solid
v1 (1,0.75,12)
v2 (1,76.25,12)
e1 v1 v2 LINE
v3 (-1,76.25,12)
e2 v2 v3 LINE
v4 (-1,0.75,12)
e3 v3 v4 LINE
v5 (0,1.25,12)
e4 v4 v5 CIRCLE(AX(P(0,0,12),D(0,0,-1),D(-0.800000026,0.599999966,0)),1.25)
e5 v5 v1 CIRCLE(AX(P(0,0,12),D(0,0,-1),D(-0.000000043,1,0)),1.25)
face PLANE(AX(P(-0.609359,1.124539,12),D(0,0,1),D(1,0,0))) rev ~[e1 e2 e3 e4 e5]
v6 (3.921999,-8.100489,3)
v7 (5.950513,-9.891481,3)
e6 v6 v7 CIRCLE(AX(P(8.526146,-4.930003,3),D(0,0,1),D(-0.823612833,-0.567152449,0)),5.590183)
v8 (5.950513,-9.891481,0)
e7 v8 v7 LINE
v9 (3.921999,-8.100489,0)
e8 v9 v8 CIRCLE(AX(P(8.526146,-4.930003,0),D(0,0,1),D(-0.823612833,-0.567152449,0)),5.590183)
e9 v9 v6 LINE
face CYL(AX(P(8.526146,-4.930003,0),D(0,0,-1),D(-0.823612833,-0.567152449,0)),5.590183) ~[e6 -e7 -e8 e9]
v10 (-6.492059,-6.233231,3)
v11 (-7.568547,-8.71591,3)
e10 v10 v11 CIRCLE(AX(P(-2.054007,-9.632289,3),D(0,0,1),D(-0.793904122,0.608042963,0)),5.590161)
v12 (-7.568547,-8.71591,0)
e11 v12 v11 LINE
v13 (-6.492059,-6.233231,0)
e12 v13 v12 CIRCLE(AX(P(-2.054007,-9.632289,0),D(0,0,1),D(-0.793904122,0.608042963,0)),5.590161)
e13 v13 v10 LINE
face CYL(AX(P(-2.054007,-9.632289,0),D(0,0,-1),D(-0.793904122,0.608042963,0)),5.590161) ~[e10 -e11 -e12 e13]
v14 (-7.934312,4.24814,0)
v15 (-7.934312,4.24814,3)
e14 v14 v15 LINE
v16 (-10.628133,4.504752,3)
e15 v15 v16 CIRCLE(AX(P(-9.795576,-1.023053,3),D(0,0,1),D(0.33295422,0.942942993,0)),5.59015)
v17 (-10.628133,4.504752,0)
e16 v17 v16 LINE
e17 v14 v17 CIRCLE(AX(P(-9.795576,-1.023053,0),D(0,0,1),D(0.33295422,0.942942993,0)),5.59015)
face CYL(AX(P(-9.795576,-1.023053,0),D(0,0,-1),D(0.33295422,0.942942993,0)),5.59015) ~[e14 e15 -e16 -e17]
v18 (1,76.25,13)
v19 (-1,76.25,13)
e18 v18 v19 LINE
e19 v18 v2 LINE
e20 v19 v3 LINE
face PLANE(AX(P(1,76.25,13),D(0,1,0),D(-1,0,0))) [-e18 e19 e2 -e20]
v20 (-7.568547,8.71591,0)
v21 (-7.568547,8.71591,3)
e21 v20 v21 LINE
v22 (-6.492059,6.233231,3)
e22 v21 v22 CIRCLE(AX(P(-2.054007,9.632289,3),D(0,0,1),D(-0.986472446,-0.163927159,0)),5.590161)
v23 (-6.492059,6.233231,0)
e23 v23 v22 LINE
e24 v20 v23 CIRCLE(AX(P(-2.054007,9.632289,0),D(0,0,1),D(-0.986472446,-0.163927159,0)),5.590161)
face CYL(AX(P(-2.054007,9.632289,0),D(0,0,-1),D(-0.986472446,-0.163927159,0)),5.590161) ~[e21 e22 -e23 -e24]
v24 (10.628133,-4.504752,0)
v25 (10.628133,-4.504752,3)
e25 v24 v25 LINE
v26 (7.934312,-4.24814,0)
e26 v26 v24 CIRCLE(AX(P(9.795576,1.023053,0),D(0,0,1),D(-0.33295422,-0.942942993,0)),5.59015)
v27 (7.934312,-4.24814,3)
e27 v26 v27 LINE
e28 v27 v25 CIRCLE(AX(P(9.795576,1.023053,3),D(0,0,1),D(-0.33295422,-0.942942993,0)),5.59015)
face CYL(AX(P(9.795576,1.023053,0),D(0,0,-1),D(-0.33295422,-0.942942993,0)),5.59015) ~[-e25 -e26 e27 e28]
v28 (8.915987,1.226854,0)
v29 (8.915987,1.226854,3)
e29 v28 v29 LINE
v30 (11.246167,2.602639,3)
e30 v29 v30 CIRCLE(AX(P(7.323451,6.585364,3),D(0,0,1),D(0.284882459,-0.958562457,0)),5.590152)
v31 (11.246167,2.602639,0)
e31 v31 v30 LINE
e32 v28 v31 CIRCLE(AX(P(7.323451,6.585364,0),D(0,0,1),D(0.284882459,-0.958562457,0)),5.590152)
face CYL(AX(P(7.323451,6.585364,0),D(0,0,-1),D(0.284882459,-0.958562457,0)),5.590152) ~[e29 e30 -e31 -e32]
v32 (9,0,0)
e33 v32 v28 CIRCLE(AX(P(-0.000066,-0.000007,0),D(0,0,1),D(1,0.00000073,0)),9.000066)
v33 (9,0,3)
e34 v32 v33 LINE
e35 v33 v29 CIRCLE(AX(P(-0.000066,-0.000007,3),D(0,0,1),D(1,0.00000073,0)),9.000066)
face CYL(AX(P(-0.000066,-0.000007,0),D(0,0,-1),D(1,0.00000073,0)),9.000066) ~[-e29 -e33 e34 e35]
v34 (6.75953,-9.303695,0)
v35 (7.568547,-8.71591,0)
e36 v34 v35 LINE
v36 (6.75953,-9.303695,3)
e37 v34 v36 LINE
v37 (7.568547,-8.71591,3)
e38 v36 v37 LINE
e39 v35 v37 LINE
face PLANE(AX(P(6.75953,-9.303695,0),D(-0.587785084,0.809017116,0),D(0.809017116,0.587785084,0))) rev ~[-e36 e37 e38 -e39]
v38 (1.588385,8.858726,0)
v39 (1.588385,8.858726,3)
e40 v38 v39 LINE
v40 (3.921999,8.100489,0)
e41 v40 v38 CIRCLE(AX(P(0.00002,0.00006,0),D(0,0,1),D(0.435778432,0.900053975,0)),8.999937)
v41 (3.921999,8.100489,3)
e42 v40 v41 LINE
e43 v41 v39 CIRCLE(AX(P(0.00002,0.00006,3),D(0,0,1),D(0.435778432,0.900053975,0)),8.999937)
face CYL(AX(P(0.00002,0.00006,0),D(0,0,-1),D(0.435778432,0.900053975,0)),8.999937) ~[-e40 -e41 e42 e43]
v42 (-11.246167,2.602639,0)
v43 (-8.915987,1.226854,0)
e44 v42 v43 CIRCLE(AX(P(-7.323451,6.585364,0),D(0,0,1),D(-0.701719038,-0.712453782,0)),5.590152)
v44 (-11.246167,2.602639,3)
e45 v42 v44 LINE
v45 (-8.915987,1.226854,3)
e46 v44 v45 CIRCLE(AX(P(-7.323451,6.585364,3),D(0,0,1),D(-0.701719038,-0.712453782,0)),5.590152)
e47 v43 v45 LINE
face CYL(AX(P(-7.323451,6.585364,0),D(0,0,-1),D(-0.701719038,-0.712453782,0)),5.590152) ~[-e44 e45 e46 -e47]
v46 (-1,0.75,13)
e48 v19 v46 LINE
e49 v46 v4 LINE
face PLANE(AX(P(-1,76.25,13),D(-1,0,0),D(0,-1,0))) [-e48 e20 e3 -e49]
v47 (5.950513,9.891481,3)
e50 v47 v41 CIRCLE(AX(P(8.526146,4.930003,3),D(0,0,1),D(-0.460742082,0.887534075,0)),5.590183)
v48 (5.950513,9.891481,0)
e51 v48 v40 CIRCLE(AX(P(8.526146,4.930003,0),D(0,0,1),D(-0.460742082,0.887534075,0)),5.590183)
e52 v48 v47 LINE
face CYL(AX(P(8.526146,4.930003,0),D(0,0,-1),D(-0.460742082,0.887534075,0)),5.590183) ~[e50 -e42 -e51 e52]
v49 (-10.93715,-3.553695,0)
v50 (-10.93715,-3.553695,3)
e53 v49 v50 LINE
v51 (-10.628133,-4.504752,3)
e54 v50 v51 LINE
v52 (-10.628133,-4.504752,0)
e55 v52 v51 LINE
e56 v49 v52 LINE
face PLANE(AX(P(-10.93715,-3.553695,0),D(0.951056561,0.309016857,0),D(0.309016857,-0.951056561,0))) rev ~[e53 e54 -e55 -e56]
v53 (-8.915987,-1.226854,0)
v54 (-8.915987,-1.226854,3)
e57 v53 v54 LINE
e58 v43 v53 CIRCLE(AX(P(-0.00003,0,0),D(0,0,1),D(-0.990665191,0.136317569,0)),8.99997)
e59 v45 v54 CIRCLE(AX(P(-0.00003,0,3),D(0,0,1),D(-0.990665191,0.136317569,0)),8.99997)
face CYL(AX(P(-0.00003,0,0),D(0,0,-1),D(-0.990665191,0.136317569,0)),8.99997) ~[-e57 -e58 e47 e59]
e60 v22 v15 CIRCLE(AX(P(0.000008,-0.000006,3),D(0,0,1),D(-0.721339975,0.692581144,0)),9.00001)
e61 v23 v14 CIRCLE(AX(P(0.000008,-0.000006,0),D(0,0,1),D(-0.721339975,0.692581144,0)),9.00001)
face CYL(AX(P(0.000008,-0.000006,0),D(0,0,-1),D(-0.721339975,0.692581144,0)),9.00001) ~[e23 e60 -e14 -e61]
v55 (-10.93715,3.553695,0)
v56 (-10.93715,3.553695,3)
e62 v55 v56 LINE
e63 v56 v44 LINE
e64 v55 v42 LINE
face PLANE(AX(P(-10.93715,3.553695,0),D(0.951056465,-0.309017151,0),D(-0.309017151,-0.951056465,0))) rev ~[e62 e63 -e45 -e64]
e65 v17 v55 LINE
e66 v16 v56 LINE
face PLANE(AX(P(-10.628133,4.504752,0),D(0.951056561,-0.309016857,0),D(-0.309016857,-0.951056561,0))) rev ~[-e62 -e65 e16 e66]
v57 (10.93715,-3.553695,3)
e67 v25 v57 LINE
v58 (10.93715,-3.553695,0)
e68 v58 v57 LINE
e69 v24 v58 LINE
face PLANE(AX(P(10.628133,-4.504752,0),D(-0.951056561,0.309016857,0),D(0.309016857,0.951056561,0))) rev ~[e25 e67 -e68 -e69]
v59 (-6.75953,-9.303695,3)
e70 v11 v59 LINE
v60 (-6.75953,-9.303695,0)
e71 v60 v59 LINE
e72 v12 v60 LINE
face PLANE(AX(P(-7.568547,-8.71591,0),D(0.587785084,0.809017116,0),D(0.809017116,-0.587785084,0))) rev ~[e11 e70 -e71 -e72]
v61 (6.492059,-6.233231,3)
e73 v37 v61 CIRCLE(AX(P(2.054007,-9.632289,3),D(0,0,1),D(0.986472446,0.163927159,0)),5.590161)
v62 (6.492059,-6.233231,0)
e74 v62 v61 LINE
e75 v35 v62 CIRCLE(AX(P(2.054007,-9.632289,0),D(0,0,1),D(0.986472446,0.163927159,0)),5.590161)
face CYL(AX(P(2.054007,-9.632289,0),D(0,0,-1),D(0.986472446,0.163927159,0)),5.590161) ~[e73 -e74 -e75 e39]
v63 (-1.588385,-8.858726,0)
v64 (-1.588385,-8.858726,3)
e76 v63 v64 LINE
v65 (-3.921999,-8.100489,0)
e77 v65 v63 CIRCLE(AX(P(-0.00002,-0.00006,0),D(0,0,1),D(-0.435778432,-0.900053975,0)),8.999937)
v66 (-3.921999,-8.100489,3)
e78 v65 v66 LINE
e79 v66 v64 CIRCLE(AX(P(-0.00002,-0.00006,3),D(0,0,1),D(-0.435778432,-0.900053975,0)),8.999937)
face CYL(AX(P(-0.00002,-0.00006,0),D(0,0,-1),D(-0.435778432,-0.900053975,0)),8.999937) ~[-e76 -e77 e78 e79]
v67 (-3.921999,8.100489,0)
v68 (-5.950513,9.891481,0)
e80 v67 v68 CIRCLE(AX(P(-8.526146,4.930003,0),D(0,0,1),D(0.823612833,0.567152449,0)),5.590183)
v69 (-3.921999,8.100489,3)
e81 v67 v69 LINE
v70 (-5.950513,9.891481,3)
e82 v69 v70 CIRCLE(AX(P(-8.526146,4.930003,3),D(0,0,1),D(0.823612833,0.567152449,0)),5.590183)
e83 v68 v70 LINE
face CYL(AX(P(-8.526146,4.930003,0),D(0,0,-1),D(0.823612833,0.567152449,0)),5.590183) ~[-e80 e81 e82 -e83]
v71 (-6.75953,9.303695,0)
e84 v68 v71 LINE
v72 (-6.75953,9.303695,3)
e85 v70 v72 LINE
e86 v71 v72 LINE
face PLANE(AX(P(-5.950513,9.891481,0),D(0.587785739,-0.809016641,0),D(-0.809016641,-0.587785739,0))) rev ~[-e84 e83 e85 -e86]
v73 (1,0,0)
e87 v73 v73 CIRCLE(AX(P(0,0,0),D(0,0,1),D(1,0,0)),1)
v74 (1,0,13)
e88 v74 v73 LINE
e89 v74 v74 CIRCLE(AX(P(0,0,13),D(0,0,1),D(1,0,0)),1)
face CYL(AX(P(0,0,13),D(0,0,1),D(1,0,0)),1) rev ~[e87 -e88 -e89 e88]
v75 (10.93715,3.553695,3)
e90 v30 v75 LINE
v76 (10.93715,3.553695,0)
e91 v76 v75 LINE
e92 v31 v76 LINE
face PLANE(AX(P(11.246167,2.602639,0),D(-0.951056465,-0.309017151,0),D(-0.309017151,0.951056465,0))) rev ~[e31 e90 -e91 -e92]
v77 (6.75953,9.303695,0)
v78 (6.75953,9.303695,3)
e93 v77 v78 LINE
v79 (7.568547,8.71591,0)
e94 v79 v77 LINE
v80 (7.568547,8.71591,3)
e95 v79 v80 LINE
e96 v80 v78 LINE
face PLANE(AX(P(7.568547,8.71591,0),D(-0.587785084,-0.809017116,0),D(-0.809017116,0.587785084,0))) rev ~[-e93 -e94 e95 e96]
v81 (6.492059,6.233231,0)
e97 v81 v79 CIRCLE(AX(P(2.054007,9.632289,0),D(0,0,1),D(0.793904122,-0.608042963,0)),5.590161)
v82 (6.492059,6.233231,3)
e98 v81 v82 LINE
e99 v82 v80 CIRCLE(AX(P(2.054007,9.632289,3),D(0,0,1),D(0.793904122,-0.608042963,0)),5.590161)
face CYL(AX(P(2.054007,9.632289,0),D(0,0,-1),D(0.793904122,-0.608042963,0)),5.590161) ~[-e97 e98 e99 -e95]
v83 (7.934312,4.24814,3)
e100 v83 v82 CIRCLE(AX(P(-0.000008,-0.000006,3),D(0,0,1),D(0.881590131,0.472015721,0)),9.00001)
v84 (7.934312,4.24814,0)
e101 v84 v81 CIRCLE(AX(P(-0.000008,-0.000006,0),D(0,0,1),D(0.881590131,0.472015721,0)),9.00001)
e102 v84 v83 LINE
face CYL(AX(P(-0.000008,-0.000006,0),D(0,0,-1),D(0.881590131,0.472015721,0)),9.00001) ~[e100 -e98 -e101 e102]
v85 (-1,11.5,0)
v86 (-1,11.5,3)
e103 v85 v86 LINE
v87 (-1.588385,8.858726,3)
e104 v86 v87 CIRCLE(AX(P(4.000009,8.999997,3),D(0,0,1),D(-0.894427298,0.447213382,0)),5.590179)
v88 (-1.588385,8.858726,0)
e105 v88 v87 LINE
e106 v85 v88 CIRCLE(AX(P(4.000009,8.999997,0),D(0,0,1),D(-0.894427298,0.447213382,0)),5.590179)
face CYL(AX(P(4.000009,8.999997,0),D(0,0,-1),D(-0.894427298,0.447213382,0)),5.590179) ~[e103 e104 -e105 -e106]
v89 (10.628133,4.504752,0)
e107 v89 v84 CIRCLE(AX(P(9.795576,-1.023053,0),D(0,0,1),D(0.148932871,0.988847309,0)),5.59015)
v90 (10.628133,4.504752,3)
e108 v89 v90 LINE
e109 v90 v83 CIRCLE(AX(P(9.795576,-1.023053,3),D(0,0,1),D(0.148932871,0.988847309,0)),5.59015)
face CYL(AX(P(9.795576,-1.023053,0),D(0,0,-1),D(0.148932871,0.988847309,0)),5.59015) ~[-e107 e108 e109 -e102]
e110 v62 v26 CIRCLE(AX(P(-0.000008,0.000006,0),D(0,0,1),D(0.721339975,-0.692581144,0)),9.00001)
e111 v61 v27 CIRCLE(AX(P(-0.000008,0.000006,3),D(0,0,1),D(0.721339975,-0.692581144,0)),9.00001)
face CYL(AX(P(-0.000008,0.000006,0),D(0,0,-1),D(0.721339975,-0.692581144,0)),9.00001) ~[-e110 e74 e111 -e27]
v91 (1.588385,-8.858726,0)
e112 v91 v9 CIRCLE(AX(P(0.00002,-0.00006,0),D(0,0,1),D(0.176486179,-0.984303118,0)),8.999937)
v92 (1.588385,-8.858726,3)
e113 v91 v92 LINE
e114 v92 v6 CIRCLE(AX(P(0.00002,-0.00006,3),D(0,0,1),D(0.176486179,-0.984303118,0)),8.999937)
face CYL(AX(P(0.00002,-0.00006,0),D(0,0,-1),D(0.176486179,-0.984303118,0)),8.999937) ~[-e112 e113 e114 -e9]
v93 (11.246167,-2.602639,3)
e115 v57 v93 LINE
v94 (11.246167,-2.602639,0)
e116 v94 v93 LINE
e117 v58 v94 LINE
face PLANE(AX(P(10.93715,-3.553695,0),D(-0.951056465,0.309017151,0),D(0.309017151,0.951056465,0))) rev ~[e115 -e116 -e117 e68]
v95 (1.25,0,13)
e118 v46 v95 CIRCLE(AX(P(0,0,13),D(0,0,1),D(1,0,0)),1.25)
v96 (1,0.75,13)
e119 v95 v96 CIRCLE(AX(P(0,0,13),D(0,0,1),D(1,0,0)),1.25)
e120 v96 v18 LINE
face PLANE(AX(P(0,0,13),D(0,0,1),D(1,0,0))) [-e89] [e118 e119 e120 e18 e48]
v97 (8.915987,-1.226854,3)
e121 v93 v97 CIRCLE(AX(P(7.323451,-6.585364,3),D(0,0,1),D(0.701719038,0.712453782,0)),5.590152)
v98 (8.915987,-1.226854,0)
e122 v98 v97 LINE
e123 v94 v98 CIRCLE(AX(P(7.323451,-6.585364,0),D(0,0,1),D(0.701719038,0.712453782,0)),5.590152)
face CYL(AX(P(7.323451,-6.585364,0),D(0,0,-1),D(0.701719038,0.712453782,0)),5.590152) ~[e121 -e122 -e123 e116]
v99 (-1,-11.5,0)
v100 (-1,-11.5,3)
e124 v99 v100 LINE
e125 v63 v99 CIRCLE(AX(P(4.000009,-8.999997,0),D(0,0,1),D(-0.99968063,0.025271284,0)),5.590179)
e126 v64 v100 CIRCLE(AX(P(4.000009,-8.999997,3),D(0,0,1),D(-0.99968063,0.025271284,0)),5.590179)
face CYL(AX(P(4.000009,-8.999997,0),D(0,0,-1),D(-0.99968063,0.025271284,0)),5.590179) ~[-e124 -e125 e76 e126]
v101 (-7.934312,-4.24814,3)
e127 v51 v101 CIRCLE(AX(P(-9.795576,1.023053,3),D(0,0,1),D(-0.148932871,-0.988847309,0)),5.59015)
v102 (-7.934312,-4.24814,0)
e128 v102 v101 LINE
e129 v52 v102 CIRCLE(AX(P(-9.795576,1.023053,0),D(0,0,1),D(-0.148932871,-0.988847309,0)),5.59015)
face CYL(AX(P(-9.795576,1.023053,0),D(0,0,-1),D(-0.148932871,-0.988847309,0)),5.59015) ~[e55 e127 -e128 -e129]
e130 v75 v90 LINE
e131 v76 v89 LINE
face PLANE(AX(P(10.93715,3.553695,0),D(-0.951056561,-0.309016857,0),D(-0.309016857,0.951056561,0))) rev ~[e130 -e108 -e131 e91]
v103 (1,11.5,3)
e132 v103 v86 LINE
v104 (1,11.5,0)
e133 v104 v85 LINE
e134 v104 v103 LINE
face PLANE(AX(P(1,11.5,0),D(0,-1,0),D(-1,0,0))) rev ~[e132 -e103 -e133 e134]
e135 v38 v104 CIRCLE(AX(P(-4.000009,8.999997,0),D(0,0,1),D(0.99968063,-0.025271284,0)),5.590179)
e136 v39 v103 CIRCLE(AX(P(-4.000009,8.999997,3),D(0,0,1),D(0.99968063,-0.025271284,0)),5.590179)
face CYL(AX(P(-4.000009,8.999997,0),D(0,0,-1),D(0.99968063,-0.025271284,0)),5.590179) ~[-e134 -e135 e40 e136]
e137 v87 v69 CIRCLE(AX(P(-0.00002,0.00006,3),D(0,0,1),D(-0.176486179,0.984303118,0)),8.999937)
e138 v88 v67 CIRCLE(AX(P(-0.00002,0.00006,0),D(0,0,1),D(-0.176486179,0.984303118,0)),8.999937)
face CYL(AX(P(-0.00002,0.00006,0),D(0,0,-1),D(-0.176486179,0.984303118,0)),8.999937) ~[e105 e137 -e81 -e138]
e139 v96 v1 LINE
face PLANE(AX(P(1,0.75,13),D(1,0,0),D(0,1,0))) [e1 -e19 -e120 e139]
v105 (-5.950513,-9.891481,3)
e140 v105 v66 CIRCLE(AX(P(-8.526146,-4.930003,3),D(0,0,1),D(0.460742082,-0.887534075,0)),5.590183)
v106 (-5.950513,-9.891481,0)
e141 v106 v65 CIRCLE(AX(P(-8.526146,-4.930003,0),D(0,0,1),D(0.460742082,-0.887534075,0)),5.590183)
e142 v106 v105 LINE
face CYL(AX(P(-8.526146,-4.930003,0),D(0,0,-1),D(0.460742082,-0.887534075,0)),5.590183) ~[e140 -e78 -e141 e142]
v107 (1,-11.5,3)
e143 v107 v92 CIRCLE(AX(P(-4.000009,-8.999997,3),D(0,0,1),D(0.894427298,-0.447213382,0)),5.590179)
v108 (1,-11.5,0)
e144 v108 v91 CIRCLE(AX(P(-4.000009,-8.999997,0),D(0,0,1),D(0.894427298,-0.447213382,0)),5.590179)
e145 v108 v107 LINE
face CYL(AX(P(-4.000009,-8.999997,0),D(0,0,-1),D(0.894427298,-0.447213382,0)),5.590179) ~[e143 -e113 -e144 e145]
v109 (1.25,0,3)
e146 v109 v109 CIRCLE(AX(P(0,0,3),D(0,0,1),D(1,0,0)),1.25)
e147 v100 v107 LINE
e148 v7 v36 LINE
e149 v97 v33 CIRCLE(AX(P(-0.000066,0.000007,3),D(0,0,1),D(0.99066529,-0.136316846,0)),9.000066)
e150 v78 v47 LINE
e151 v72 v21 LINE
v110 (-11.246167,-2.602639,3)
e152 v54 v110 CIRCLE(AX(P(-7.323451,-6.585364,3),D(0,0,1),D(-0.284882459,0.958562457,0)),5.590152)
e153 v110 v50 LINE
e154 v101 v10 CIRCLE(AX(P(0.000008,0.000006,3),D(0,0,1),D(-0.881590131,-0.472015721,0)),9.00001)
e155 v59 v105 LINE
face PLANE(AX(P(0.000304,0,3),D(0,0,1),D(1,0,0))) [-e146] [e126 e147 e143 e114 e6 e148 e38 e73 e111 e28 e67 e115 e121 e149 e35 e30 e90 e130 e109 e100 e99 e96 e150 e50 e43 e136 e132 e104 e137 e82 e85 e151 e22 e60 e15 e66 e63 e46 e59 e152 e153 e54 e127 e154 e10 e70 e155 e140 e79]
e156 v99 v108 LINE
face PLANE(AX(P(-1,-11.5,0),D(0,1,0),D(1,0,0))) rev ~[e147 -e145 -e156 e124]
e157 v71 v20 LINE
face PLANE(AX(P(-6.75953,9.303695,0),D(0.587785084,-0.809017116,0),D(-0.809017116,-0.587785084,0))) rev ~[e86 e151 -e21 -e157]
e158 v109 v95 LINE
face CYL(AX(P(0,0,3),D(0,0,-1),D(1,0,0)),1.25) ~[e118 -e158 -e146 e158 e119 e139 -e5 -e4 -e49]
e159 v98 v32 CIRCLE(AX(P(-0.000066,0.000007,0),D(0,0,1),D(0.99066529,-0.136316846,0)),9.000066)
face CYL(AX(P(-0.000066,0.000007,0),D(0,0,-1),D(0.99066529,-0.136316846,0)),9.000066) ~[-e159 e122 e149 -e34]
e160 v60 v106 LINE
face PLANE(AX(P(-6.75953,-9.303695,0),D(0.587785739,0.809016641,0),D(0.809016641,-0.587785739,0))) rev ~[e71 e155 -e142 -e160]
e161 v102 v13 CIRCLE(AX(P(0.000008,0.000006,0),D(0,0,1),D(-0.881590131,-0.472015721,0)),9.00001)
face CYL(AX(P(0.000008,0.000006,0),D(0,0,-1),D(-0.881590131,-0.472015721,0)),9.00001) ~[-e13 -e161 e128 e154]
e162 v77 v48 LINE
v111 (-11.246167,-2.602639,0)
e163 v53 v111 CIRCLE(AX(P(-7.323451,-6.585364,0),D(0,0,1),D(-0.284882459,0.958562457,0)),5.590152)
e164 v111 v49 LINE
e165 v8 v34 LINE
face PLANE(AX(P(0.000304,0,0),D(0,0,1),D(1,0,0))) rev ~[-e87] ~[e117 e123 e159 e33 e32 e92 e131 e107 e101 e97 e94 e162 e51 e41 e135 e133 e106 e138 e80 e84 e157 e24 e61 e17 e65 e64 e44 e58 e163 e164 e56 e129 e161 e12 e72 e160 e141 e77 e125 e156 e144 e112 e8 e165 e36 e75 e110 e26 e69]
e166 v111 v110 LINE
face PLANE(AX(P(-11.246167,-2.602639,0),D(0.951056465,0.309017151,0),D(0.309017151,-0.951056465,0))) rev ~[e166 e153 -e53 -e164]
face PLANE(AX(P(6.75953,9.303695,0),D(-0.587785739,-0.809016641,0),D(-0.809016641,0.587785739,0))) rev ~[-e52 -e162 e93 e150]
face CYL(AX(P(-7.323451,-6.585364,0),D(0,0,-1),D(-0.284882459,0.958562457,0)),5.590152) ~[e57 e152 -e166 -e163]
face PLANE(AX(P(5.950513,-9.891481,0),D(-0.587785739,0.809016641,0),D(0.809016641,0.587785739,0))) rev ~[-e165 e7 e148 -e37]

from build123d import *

# Parameters (mm, degrees)
F1_DEPTH = 3
F2_R     = 1.25
F3_DEPTH = 10
F4_R     = 1
F5_DEPTH = 25
F6_W     = 1
F6_H     = 75
F7_DEPTH = 1


with BuildPart() as f1:
    # F0 (on Top) → F1 (new body)
    with BuildSketch(Plane.XY):
        with BuildLine():
            ThreePointArc((8.915987, -1.226854), (8.978972, -0.614863), (9, 0))
            ThreePointArc((9, 0), (8.978972, 0.614863), (8.915987, 1.226854))
            ThreePointArc((8.915987, 1.226854), (8.559509, 2.781153), (7.934312, 4.24814))
            ThreePointArc((7.934312, 4.24814), (7.281153, 5.290067), (6.492059, 6.233231))
            ThreePointArc((6.492059, 6.233231), (5.290067, 7.281153), (3.921999, 8.100489))
            ThreePointArc((3.921999, 8.100489), (2.781153, 8.559509), (1.588385, 8.858726))
            ThreePointArc((1.588385, 8.858726), (0, 9), (-1.588385, 8.858726))
            ThreePointArc((-1.588385, 8.858726), (-2.781153, 8.559509), (-3.921999, 8.100489))
            ThreePointArc((-3.921999, 8.100489), (-5.290067, 7.281153), (-6.492059, 6.233231))
            ThreePointArc((-6.492059, 6.233231), (-7.281153, 5.290067), (-7.934312, 4.24814))
            ThreePointArc((-7.934312, 4.24814), (-8.559509, 2.781153), (-8.915987, 1.226854))
            ThreePointArc((-8.915987, 1.226854), (-9, 0), (-8.915987, -1.226854))
            ThreePointArc((-8.915987, -1.226854), (-8.559509, -2.781153), (-7.934312, -4.24814))
            ThreePointArc((-7.934312, -4.24814), (-7.281153, -5.290067), (-6.492059, -6.233231))
            ThreePointArc((-6.492059, -6.233231), (-5.290067, -7.281153), (-3.921999, -8.100489))
            ThreePointArc((-3.921999, -8.100489), (-2.781153, -8.559509), (-1.588385, -8.858726))
            ThreePointArc((-1.588385, -8.858726), (0, -9), (1.588385, -8.858726))
            ThreePointArc((1.588385, -8.858726), (2.781153, -8.559509), (3.921999, -8.100489))
            ThreePointArc((3.921999, -8.100489), (5.290067, -7.281153), (6.492059, -6.233231))
            ThreePointArc((6.492059, -6.233231), (7.281153, -5.290067), (7.934312, -4.24814))
            ThreePointArc((7.934312, -4.24814), (8.559509, -2.781153), (8.915987, -1.226854))
        make_face()
        with BuildLine():
            ThreePointArc((7.934312, 4.24814), (8.559509, 2.781153), (8.915987, 1.226854))
            ThreePointArc((8.915987, 1.226854), (10.16558, 1.771623), (11.246167, 2.602639))
            Line((11.246167, 2.602639), (10.93715, 3.553695))
            Line((10.93715, 3.553695), (10.628133, 4.504752))
            ThreePointArc((10.628133, 4.504752), (9.265461, 4.541905), (7.934312, 4.24814))
        make_face()
        with BuildLine():
            ThreePointArc((11.246167, -2.602639), (10.16558, -1.771623), (8.915987, -1.226854))
            ThreePointArc((8.915987, -1.226854), (8.559509, -2.781153), (7.934312, -4.24814))
            ThreePointArc((7.934312, -4.24814), (9.265461, -4.541905), (10.628133, -4.504752))
            Line((10.628133, -4.504752), (10.93715, -3.553695))
            Line((10.93715, -3.553695), (11.246167, -2.602639))
        make_face()
        with BuildLine():
            ThreePointArc((3.921999, 8.100489), (5.290067, 7.281153), (6.492059, 6.233231))
            ThreePointArc((6.492059, 6.233231), (7.182793, 7.408451), (7.568547, 8.71591))
            Line((7.568547, 8.71591), (6.75953, 9.303695))
            Line((6.75953, 9.303695), (5.950513, 9.891481))
            ThreePointArc((5.950513, 9.891481), (4.826251, 9.120579), (3.921999, 8.100489))
        make_face()
        with BuildLine():
            ThreePointArc((7.568547, -8.71591), (7.182793, -7.408451), (6.492059, -6.233231))
            ThreePointArc((6.492059, -6.233231), (5.290067, -7.281153), (3.921999, -8.100489))
            ThreePointArc((3.921999, -8.100489), (4.826251, -9.120579), (5.950513, -9.891481))
            Line((5.950513, -9.891481), (6.75953, -9.303695))
            Line((6.75953, -9.303695), (7.568547, -8.71591))
        make_face()
        with BuildLine():
            ThreePointArc((-1.588385, 8.858726), (0, 9), (1.588385, 8.858726))
            ThreePointArc((1.588385, 8.858726), (1.456423, 10.215503), (1, 11.5))
            Line((1, 11.5), (0, 11.5))
            Line((0, 11.5), (-1, 11.5))
            ThreePointArc((-1, 11.5), (-1.456423, 10.215503), (-1.588385, 8.858726))
        make_face()
        with BuildLine():
            ThreePointArc((1, -11.5), (1.456423, -10.215503), (1.588385, -8.858726))
            ThreePointArc((1.588385, -8.858726), (0, -9), (-1.588385, -8.858726))
            ThreePointArc((-1.588385, -8.858726), (-1.456423, -10.215503), (-1, -11.5))
            Line((-1, -11.5), (0, -11.5))
            Line((0, -11.5), (1, -11.5))
        make_face()
        with BuildLine():
            ThreePointArc((-6.492059, 6.233231), (-5.290067, 7.281153), (-3.921999, 8.100489))
            ThreePointArc((-3.921999, 8.100489), (-4.826251, 9.120579), (-5.950513, 9.891481))
            Line((-5.950513, 9.891481), (-6.75953, 9.303695))
            Line((-6.75953, 9.303695), (-7.568547, 8.71591))
            ThreePointArc((-7.568547, 8.71591), (-7.182793, 7.408451), (-6.492059, 6.233231))
        make_face()
        with BuildLine():
            ThreePointArc((-5.950513, -9.891481), (-4.826251, -9.120579), (-3.921999, -8.100489))
            ThreePointArc((-3.921999, -8.100489), (-5.290067, -7.281153), (-6.492059, -6.233231))
            ThreePointArc((-6.492059, -6.233231), (-7.182793, -7.408451), (-7.568547, -8.71591))
            Line((-7.568547, -8.71591), (-6.75953, -9.303695))
            Line((-6.75953, -9.303695), (-5.950513, -9.891481))
        make_face()
        with BuildLine():
            ThreePointArc((-8.915987, 1.226854), (-8.559509, 2.781153), (-7.934312, 4.24814))
            ThreePointArc((-7.934312, 4.24814), (-9.265461, 4.541905), (-10.628133, 4.504752))
            Line((-10.628133, 4.504752), (-10.93715, 3.553695))
            Line((-10.93715, 3.553695), (-11.246167, 2.602639))
            ThreePointArc((-11.246167, 2.602639), (-10.16558, 1.771623), (-8.915987, 1.226854))
        make_face()
        with BuildLine():
            ThreePointArc((-10.628133, -4.504752), (-9.265461, -4.541905), (-7.934312, -4.24814))
            ThreePointArc((-7.934312, -4.24814), (-8.559509, -2.781153), (-8.915987, -1.226854))
            ThreePointArc((-8.915987, -1.226854), (-10.16558, -1.771623), (-11.246167, -2.602639))
            Line((-11.246167, -2.602639), (-10.93715, -3.553695))
            Line((-10.93715, -3.553695), (-10.628133, -4.504752))
        make_face()
    extrude(amount=F1_DEPTH)

    # F2 (on face) → F3 (join)
    with BuildSketch(Plane.XY.offset(3)):
        Circle(F2_R)
    extrude(amount=F3_DEPTH)

    # F4 (on face) → F5 (cut)
    with BuildSketch(Plane.XY.offset(13)):
        Circle(F4_R)
    extrude(amount=-F5_DEPTH, mode=Mode.SUBTRACT)

    # F6 (on face) → F7 (join)
    with BuildSketch(Plane.XY.offset(13)):
        with BuildLine():
            ThreePointArc((-1, 0.75), (-0.559017, 1.118034), (0, 1.25))
            Line((0, 1.25), (-1, 1.25))
            Line((-1, 1.25), (-1, 0.75))
        make_face()
        with Locations((-0.5, 38.75)):
            Rectangle(F6_W, F6_H)
        with Locations((0.5, 38.75)):
            Rectangle(F6_W, F6_H)
        with BuildLine():
            Line((1, 1.25), (0, 1.25))
            ThreePointArc((0, 1.25), (0.559017, 1.118034), (1, 0.75))
            Line((1, 0.75), (1, 1.25))
        make_face()
    extrude(amount=-F7_DEPTH)


solid = f1.part
